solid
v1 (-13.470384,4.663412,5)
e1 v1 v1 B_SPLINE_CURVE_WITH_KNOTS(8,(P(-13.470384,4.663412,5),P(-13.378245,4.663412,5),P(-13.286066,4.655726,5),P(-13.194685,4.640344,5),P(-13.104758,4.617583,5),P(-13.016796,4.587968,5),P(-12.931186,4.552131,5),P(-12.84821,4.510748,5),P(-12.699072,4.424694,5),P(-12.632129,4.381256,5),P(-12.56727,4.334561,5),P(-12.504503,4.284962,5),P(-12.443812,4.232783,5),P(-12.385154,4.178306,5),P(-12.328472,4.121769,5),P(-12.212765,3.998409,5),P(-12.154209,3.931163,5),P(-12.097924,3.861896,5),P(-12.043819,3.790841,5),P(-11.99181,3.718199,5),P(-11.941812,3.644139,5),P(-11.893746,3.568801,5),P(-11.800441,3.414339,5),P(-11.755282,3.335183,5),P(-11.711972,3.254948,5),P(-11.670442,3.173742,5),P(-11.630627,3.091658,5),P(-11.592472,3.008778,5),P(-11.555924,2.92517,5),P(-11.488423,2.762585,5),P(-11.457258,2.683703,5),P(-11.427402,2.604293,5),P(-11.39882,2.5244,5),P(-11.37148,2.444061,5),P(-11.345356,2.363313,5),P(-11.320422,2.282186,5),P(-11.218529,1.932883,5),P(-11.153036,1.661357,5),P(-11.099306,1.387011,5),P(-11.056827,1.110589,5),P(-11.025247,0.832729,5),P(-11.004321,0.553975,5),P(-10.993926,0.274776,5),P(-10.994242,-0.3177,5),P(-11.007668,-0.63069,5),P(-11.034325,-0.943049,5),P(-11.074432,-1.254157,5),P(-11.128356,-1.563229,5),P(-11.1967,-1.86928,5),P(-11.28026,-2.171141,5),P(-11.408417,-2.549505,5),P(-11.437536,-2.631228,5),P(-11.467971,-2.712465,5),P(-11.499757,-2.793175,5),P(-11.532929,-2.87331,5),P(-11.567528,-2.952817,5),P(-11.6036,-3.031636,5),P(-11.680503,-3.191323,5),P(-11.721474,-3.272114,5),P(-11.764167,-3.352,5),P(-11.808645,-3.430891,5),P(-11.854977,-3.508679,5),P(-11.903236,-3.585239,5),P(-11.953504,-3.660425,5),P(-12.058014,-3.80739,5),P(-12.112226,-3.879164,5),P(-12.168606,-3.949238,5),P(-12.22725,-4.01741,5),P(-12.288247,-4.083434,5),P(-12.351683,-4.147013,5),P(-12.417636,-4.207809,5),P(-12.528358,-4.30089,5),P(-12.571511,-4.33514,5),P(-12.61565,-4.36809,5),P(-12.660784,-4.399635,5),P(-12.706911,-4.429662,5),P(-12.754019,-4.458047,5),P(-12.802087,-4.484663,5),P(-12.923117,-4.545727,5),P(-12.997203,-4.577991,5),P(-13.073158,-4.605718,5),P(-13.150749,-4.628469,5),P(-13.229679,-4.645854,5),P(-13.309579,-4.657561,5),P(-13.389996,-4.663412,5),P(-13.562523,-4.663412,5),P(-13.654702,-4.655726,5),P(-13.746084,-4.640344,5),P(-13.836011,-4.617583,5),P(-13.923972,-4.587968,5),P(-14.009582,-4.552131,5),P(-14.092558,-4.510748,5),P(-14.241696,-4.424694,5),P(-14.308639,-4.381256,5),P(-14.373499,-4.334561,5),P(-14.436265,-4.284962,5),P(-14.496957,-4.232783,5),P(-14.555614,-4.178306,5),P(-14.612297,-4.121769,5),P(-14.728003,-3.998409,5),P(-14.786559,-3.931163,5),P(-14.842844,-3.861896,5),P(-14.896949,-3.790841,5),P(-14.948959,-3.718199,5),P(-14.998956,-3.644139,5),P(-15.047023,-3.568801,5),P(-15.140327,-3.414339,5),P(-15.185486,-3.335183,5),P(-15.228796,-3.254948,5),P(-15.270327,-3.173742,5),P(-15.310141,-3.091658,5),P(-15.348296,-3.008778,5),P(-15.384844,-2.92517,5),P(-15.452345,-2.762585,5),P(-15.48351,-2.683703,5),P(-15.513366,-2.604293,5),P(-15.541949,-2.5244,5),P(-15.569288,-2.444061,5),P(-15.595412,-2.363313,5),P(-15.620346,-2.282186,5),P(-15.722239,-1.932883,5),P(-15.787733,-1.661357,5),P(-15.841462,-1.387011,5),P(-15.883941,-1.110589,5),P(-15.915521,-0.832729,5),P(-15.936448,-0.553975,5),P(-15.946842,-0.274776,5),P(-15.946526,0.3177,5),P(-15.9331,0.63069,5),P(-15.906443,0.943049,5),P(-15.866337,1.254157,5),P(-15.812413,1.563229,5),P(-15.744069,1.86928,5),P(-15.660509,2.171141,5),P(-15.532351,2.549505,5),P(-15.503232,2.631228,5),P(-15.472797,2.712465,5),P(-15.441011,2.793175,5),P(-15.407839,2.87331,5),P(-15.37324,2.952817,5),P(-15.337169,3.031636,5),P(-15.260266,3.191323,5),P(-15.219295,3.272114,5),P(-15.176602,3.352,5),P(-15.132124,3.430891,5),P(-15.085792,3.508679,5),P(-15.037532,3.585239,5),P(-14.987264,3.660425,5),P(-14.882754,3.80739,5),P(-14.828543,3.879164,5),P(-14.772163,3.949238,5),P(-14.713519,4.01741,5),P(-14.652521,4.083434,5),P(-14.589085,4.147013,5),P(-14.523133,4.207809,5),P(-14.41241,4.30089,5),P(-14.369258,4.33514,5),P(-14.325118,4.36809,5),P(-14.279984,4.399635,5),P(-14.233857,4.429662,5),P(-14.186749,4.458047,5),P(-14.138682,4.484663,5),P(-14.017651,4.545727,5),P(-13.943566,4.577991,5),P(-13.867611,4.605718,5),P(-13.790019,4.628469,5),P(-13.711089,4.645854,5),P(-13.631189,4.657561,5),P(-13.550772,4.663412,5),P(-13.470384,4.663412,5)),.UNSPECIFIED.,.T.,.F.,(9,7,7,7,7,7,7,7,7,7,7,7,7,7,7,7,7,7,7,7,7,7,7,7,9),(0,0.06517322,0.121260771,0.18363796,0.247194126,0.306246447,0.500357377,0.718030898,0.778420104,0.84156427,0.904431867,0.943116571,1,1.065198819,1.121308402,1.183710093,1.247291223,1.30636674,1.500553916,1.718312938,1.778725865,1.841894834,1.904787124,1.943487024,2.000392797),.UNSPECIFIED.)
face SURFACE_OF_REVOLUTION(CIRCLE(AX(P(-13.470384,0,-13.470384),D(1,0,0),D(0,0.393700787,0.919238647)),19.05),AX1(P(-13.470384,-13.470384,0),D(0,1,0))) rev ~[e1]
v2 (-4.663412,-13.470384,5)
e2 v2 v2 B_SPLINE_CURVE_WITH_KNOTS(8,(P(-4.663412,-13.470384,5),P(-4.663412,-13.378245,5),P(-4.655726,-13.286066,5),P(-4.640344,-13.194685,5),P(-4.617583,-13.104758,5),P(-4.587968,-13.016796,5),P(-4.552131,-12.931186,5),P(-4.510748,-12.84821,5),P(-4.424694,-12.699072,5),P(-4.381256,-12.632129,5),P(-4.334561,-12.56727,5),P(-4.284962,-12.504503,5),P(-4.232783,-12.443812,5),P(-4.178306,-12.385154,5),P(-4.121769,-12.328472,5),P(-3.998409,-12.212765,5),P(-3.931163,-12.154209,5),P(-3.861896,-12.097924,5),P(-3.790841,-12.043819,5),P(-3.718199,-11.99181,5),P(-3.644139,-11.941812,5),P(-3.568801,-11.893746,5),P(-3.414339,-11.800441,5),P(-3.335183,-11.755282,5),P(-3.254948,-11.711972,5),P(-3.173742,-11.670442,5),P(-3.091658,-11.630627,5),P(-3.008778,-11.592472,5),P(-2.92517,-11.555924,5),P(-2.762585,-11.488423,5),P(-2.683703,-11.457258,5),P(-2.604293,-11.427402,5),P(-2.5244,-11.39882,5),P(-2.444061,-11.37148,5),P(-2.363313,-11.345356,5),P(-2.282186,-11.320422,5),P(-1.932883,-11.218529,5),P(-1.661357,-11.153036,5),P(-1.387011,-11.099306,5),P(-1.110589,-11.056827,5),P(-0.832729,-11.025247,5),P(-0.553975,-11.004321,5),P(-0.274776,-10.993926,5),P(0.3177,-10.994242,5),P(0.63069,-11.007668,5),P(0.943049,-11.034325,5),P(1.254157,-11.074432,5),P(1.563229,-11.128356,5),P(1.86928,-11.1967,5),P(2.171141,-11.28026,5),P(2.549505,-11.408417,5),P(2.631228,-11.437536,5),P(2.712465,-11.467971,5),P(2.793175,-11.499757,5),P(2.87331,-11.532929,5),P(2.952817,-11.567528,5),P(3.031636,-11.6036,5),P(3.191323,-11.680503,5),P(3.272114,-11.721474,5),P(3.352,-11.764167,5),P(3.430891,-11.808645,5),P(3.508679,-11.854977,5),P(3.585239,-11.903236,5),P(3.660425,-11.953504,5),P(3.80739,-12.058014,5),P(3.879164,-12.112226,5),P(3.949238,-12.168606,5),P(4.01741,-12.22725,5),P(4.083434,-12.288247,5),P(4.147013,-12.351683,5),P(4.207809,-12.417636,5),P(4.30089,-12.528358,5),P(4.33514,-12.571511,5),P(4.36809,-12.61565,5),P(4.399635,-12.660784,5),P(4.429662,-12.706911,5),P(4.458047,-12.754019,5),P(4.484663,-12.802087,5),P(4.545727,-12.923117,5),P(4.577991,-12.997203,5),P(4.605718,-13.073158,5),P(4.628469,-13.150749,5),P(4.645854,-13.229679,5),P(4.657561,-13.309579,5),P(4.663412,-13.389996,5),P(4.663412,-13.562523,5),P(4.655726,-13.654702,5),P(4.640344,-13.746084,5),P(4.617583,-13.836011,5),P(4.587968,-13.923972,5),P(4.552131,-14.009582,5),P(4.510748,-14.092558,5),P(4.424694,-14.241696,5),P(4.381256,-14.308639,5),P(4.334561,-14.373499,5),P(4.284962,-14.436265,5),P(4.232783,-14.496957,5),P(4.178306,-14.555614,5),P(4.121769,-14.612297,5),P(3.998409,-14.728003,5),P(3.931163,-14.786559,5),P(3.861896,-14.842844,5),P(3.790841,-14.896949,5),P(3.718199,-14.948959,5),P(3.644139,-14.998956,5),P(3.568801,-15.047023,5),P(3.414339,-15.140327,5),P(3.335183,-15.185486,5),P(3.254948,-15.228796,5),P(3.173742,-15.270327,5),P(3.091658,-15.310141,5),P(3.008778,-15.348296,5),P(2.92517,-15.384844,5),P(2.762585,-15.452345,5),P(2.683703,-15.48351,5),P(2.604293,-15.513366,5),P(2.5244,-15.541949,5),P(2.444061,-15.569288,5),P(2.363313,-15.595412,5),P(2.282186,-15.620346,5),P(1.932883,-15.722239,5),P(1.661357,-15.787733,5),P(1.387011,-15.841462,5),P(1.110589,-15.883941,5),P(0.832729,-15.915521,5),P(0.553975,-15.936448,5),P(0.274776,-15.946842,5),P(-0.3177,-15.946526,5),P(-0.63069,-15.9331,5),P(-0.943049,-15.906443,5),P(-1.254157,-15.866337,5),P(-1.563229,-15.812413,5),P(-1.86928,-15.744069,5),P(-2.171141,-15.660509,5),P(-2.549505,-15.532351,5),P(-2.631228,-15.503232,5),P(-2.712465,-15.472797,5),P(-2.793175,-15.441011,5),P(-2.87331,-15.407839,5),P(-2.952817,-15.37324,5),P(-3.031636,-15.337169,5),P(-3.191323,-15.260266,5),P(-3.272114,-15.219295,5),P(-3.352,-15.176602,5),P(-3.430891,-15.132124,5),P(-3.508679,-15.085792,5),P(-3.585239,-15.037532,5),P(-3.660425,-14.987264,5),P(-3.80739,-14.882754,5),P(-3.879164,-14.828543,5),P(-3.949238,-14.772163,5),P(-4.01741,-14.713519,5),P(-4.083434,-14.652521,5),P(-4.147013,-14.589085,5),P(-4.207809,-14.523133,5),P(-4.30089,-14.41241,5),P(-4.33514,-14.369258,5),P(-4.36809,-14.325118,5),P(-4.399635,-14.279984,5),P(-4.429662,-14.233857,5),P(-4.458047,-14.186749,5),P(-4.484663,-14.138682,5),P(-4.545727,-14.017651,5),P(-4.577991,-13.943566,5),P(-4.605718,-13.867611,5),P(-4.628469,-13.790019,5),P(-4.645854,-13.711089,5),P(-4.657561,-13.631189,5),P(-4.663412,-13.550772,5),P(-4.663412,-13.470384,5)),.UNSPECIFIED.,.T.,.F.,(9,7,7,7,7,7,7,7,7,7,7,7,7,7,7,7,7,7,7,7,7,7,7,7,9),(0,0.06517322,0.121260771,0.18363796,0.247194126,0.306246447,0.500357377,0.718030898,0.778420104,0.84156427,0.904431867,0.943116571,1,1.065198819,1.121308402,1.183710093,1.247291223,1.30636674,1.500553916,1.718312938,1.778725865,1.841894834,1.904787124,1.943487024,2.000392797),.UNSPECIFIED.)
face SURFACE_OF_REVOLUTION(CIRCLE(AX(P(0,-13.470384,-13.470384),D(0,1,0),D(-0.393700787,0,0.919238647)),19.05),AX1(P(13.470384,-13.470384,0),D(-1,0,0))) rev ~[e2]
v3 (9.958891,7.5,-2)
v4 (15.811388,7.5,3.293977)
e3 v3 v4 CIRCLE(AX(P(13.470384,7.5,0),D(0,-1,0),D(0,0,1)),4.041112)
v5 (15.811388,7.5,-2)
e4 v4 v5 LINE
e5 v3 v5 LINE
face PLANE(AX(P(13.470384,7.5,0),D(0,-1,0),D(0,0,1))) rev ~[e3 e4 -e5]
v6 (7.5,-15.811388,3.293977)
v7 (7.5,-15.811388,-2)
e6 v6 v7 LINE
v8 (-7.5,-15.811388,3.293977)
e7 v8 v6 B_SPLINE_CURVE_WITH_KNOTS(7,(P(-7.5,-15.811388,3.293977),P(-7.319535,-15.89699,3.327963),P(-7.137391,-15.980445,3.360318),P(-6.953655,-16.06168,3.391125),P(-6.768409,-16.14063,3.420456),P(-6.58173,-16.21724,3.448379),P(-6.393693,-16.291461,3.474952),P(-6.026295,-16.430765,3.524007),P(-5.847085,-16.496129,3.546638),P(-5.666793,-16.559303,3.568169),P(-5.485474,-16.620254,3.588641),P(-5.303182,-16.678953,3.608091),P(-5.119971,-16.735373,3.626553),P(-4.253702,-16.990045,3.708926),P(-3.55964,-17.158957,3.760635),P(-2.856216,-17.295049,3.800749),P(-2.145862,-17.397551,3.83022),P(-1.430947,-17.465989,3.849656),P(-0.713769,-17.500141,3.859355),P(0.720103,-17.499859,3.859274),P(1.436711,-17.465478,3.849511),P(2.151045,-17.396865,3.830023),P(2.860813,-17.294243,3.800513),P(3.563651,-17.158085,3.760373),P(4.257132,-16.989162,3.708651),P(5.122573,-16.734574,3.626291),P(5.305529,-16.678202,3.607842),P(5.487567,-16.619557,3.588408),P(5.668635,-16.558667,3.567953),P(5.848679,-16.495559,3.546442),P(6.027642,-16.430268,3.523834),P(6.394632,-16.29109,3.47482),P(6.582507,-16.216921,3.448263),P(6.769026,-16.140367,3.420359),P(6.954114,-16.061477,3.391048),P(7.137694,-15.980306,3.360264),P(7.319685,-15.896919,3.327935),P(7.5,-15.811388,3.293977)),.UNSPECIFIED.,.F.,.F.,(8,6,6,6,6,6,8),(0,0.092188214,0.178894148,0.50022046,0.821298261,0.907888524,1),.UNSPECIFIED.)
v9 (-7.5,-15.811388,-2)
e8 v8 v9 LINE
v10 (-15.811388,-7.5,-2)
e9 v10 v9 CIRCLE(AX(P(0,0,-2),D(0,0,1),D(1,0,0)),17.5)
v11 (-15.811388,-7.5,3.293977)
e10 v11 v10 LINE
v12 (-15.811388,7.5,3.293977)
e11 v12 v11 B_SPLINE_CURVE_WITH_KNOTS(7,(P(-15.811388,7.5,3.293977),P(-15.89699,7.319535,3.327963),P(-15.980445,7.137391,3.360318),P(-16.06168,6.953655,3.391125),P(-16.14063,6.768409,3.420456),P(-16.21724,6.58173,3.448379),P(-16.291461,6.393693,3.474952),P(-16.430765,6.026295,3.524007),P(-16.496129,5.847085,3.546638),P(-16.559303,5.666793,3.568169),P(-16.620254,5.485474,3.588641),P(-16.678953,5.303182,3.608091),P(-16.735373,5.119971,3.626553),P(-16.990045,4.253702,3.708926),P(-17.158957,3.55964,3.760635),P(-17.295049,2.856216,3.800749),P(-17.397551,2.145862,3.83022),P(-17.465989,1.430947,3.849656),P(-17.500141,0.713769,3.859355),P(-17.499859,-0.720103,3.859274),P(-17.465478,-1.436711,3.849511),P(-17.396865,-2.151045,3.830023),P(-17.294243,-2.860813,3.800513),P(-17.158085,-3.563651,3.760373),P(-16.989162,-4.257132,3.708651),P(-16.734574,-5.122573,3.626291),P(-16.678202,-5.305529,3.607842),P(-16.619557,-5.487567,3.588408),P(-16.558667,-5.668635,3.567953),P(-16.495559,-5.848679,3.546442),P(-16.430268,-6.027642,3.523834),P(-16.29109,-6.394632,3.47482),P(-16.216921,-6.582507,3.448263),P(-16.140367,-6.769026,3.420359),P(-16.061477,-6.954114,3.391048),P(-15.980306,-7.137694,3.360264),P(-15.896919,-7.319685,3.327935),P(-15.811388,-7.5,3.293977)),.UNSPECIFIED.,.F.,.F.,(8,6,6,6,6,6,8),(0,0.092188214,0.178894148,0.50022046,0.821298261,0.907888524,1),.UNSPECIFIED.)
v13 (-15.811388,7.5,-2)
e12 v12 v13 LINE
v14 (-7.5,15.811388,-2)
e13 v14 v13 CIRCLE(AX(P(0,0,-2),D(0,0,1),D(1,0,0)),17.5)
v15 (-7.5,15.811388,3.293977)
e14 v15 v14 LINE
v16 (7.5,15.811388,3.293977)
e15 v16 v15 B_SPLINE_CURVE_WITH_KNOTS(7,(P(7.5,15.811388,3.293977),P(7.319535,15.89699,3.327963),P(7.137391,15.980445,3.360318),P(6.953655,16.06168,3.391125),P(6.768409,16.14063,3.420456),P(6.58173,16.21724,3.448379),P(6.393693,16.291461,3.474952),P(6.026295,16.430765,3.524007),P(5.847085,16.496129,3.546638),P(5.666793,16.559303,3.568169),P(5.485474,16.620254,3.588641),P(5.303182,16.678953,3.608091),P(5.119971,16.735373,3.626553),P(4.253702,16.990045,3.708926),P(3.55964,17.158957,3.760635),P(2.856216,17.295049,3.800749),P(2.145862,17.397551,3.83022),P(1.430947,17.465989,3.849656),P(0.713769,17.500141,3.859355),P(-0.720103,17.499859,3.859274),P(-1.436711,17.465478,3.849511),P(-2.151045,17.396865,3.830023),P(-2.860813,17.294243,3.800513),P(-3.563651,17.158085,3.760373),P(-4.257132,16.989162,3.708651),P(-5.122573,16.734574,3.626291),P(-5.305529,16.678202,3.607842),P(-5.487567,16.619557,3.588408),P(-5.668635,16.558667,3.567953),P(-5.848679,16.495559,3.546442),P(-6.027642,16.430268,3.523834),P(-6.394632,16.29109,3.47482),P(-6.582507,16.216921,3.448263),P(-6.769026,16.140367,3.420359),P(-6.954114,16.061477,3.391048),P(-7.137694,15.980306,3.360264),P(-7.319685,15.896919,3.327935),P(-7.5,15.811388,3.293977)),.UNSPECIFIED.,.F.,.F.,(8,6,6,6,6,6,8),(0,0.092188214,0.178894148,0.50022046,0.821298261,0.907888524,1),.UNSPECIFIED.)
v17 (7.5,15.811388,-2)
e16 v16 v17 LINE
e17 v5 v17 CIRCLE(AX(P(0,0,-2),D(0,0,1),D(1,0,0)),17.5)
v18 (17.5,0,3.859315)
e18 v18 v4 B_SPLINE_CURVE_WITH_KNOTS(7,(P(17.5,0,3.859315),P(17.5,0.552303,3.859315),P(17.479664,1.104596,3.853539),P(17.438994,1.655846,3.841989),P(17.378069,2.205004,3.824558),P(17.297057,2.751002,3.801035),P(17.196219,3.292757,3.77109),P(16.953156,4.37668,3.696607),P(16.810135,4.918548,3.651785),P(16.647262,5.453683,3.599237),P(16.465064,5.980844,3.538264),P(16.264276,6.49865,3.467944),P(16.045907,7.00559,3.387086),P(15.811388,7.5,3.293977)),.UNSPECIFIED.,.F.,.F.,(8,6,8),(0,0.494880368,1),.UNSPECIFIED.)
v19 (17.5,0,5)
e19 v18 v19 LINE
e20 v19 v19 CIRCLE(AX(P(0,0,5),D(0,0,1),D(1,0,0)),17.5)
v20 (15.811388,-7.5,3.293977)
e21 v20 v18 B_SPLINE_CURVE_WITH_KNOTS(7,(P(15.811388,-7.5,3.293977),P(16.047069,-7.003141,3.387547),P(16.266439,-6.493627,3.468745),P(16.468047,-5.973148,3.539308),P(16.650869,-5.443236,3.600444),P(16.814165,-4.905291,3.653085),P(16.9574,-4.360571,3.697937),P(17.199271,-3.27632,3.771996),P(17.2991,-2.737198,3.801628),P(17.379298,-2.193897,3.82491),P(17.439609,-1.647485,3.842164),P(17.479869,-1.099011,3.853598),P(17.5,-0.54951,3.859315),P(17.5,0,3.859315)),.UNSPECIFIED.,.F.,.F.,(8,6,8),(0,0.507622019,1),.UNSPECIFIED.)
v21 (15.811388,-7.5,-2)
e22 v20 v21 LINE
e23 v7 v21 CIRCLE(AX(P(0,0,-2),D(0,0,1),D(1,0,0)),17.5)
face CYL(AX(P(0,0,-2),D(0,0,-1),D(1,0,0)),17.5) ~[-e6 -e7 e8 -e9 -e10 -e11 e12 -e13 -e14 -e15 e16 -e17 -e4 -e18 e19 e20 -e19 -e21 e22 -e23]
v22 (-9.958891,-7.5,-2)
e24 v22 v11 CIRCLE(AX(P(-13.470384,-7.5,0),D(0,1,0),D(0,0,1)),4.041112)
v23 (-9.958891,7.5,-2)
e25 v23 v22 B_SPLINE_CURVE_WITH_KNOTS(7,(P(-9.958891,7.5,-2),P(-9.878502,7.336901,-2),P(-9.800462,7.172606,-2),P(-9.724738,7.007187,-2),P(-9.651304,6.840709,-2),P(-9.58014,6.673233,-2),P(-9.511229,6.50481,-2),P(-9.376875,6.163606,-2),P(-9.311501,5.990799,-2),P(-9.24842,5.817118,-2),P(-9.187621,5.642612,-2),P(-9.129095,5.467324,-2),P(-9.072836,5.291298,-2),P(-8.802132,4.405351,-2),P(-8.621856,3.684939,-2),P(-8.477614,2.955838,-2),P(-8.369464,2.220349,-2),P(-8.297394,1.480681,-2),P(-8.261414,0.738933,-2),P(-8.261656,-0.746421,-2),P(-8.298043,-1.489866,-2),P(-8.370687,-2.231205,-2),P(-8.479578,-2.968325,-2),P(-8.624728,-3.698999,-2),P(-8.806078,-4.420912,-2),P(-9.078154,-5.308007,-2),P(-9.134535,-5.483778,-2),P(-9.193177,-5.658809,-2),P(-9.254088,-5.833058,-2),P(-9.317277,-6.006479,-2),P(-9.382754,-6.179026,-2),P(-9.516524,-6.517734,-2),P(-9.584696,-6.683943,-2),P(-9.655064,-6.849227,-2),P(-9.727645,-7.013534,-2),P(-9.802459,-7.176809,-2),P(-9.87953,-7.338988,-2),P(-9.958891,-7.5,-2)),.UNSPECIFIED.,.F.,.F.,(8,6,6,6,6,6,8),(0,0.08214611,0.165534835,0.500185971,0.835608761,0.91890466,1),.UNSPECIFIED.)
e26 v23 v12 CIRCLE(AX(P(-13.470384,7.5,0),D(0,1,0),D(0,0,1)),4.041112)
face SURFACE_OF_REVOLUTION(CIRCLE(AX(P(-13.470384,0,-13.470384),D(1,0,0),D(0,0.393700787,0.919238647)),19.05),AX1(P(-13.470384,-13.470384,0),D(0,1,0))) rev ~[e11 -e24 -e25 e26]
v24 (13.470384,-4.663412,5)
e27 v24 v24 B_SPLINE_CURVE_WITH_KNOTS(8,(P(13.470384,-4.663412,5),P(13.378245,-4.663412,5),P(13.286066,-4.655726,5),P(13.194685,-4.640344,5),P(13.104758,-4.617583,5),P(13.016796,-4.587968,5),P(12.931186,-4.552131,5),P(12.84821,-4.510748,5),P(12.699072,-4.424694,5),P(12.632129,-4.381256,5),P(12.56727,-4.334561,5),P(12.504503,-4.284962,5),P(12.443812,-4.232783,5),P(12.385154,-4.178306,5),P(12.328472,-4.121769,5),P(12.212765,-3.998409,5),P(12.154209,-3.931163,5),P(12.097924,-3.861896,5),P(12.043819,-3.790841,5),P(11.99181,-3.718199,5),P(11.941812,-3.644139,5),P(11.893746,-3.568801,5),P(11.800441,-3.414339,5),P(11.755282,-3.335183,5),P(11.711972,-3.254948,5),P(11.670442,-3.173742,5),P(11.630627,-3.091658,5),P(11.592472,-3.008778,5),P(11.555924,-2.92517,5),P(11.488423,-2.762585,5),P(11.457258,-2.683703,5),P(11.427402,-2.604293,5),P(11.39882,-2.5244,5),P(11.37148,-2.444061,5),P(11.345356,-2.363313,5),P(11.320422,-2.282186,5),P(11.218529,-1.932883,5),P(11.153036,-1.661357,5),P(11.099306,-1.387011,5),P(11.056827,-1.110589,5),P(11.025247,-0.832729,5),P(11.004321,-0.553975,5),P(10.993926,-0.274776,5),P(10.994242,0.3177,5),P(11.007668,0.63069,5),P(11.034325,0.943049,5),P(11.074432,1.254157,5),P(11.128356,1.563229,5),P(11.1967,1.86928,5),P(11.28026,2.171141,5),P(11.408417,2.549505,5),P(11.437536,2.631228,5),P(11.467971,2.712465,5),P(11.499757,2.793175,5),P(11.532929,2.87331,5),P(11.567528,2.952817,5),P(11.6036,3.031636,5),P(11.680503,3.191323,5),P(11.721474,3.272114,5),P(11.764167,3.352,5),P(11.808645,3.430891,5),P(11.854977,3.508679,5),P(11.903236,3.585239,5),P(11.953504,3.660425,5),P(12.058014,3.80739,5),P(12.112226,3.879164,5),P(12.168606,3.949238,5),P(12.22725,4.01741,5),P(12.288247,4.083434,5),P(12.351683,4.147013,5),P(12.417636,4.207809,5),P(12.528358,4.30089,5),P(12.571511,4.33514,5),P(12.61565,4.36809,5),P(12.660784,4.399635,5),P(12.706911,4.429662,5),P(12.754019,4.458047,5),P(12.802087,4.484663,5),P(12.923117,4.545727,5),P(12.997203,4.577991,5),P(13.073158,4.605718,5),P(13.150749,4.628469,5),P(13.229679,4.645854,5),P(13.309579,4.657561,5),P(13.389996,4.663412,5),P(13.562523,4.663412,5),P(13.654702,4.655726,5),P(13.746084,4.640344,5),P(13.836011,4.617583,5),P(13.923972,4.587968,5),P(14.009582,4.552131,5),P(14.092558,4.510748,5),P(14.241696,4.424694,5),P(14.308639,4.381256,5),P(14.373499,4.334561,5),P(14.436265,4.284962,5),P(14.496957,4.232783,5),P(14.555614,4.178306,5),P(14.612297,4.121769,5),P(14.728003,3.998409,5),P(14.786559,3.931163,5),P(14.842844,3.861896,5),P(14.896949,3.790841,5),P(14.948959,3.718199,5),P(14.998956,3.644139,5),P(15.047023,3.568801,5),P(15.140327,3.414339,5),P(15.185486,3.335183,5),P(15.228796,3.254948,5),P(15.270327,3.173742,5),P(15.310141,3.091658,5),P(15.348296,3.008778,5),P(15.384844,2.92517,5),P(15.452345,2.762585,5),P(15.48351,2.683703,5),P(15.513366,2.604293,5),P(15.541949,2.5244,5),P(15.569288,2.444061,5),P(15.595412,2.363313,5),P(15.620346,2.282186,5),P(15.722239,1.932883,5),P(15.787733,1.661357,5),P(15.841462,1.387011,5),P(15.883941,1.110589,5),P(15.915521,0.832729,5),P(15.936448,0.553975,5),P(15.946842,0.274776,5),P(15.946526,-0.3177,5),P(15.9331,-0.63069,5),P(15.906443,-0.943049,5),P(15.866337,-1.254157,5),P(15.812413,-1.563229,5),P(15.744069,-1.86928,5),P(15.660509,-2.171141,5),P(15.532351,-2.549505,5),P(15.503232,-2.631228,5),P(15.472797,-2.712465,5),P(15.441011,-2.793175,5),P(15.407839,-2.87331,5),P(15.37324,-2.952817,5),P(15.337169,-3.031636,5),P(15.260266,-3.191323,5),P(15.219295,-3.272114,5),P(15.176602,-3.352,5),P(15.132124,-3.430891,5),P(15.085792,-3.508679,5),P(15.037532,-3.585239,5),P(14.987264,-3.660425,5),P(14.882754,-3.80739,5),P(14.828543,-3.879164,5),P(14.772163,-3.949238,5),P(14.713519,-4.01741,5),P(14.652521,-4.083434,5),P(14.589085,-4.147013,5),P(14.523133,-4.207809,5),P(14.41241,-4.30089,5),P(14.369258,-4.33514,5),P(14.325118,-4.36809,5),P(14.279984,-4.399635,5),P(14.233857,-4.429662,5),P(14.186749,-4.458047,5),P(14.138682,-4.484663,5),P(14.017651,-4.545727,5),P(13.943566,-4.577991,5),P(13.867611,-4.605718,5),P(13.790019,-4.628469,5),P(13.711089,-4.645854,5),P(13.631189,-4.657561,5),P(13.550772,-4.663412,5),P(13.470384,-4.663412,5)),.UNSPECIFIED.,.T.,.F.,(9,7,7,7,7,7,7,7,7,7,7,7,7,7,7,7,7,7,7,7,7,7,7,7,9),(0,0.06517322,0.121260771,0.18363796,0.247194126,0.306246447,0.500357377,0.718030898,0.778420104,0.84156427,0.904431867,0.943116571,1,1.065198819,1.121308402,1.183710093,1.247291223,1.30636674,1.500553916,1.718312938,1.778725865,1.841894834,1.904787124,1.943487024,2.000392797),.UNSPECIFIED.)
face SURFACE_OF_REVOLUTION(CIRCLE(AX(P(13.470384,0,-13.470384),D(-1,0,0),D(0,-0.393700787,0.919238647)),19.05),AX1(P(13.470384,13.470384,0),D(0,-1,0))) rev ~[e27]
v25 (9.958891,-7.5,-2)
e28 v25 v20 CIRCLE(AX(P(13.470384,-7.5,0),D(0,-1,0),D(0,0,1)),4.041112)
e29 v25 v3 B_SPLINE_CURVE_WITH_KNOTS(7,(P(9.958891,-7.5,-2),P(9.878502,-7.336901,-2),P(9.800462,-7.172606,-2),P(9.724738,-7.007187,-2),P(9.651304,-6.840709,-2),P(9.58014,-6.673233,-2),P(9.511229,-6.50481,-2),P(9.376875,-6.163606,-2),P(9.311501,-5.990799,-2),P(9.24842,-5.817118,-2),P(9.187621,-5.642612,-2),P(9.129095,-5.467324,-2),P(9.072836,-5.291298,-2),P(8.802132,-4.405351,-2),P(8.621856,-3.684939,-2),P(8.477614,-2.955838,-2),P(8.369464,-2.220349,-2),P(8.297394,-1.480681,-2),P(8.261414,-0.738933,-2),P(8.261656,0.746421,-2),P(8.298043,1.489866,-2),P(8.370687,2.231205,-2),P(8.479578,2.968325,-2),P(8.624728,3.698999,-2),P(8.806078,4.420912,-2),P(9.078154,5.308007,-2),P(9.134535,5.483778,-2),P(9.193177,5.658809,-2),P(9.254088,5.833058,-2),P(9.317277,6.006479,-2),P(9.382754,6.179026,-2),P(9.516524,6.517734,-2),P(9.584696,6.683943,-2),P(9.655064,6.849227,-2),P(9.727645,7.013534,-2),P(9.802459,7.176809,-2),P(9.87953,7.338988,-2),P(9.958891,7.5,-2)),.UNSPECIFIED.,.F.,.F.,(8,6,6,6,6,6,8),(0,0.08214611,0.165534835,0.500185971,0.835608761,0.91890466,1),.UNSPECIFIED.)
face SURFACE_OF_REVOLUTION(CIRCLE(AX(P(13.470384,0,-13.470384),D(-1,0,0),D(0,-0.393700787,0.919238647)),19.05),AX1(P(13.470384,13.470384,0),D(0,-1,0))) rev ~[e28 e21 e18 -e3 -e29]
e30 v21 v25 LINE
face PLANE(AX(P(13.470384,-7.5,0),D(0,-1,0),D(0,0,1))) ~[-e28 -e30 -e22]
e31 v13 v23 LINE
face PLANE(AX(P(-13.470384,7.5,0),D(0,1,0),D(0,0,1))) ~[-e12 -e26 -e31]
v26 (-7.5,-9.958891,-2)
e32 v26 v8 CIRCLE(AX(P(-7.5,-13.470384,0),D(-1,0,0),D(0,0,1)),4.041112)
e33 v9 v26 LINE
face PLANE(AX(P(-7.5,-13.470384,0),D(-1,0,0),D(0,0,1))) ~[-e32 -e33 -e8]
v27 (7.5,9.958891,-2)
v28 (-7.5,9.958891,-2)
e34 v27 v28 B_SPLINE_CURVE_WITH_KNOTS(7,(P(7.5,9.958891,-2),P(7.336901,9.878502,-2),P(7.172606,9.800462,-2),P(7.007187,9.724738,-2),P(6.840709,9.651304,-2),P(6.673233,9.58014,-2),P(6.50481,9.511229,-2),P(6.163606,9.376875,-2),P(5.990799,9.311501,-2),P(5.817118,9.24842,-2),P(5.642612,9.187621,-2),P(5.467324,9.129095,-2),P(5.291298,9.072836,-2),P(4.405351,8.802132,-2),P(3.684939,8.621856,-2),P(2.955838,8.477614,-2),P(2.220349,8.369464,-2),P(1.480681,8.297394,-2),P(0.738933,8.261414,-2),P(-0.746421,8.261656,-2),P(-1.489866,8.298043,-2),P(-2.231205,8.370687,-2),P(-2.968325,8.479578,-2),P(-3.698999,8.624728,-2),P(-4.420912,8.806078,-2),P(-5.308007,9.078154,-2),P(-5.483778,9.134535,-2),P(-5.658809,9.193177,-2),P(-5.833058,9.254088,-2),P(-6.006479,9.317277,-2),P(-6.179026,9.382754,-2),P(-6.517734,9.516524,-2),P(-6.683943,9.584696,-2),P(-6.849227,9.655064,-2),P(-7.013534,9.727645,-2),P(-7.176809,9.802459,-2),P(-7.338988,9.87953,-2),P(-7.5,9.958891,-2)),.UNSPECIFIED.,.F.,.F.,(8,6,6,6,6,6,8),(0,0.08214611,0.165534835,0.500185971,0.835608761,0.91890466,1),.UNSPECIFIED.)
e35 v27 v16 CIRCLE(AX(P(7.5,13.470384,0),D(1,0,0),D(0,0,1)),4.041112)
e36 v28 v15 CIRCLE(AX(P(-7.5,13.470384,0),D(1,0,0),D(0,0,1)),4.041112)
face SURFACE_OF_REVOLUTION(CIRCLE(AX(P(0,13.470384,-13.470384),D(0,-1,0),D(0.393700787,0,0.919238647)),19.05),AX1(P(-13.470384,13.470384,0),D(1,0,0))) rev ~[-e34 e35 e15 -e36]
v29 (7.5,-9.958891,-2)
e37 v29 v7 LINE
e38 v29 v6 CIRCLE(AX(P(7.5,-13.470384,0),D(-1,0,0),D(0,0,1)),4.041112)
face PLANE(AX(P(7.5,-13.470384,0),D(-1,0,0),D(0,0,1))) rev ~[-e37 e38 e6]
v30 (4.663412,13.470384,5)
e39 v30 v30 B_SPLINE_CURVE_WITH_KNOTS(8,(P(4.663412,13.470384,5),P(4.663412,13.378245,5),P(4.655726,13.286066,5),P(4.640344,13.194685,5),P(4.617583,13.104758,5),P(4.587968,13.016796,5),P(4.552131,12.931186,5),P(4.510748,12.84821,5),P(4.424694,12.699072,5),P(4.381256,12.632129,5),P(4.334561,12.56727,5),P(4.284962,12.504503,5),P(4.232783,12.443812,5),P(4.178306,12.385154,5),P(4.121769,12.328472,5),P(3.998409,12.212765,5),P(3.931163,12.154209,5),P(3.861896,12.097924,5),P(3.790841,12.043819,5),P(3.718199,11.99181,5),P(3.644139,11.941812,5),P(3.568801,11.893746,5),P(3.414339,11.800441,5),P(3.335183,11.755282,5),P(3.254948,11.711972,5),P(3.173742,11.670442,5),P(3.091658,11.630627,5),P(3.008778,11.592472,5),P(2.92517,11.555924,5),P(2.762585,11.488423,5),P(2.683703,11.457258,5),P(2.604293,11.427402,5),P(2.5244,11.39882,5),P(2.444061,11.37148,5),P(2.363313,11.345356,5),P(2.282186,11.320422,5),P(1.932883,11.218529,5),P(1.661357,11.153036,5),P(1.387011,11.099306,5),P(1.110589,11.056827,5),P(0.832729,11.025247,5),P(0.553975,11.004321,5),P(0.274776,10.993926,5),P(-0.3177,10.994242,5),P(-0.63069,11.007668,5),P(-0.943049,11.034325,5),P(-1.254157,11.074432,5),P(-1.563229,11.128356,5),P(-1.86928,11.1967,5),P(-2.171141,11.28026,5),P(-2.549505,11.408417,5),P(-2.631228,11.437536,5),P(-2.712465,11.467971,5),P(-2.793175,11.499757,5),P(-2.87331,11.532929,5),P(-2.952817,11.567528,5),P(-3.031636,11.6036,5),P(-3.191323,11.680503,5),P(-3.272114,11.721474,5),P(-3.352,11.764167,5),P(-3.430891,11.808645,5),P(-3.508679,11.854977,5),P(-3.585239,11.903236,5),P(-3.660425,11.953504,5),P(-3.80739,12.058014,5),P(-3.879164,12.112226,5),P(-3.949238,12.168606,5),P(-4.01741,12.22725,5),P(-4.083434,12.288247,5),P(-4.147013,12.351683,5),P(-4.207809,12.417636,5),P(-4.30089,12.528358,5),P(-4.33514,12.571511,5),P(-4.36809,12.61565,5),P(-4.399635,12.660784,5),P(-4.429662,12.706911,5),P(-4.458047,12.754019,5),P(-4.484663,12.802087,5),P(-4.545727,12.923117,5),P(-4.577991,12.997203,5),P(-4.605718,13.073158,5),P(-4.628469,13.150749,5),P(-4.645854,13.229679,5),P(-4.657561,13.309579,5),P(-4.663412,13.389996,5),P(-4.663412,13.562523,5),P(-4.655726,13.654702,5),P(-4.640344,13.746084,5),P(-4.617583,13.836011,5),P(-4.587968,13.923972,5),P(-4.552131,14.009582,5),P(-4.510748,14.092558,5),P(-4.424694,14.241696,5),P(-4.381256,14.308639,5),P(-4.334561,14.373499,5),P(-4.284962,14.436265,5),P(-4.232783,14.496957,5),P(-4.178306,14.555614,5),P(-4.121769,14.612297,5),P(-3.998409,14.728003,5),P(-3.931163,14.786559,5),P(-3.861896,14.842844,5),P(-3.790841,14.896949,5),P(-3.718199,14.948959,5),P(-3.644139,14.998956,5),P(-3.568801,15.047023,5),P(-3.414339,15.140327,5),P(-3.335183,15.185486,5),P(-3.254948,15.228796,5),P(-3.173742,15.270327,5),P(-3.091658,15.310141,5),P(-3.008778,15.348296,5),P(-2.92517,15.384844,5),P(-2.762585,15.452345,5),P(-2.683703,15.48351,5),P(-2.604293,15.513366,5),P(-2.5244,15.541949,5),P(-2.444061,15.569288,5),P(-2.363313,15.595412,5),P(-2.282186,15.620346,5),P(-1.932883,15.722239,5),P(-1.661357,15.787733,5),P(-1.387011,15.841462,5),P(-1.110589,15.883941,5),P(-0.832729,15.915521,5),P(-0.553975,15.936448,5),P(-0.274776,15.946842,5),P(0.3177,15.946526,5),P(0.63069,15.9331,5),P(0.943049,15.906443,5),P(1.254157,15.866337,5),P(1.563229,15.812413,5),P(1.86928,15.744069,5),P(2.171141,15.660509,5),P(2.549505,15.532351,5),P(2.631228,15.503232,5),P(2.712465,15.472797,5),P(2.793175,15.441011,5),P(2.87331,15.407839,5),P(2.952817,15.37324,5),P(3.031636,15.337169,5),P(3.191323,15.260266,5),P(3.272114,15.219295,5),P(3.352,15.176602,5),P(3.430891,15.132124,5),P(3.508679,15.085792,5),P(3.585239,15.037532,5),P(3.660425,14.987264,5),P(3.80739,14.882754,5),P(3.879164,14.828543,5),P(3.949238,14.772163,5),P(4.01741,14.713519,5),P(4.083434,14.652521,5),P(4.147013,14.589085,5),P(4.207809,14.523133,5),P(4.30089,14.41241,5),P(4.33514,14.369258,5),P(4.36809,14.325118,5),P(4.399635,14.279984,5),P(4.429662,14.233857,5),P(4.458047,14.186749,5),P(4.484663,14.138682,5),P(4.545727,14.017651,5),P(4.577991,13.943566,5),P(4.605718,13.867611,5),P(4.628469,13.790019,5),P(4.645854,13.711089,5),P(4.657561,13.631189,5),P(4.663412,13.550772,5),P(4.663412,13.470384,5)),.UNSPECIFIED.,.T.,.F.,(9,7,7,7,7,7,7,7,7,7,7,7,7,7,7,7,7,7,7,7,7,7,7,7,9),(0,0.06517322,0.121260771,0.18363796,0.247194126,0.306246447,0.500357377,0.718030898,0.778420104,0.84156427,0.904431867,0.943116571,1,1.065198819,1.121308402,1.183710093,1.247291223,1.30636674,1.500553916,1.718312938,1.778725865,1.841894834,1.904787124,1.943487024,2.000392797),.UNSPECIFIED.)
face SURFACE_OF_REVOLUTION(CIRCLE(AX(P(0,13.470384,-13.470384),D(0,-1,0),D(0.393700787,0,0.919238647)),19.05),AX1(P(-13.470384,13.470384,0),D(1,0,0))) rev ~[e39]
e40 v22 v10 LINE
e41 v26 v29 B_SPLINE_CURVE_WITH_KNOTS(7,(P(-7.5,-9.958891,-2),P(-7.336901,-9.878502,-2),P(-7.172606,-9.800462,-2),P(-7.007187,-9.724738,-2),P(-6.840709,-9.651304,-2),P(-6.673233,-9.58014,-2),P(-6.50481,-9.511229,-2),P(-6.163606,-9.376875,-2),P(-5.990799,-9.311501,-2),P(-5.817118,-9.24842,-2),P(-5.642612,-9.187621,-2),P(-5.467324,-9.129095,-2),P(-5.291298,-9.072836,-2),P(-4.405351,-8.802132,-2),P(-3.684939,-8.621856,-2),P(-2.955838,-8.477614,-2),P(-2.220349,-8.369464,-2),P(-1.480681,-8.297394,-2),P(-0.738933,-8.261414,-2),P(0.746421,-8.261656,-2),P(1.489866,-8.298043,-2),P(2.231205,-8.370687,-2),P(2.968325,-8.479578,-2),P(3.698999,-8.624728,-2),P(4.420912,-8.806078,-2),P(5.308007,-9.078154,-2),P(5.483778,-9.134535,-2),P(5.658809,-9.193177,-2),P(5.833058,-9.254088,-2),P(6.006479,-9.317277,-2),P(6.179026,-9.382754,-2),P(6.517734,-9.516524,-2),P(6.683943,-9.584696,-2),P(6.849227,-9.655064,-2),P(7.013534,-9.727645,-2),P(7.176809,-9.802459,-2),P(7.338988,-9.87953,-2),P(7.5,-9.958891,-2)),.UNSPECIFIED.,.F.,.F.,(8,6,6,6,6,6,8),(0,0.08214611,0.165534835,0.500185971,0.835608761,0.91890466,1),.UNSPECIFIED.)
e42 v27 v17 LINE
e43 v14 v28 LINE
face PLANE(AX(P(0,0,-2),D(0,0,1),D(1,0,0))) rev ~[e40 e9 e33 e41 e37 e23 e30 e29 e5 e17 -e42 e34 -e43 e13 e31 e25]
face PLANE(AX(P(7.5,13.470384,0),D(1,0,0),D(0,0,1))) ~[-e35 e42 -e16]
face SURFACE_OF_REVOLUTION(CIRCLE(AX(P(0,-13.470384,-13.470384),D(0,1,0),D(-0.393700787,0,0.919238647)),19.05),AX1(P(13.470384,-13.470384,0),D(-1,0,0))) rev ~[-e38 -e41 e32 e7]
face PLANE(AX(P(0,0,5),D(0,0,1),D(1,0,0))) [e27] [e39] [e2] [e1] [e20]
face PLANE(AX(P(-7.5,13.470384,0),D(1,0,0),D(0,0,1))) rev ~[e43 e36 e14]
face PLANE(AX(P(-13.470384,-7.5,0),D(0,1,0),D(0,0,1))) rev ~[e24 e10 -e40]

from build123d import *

# Parameters (mm, degrees)
EXTRUDE_1_DEPTH          = 5
EXTRUDE_1_DEPTH_BACK     = 2
SKETCH_2_R               = 17.5
PATTERN_CIRCULAR_1_COUNT = 4


with BuildPart() as part:
    # ｽｹｯﾁ1 → 回転1 (revolve)
    with BuildSketch(Plane.XY, mode=Mode.PRIVATE) as revolve_1_sk:
        with BuildLine():
            Line((-7.5, 17.511496224), (-7.5, 13.470384182))
            Line((-7.5, 13.470384182), (7.5, 13.470384182))
            Line((7.5, 13.470384182), (7.5, 17.511496224))
            ThreePointArc((7.5, 17.511496224), (0, 19.05), (-7.5, 17.511496224))
        make_face()
    revolve_1 = revolve(revolve_1_sk.sketch.rotate(Axis((-13.470384182, 13.470384182, 0), (1, 0, 0)), 90), axis=Axis((-13.470384182, 13.470384182, 0), (1, 0, 0)))

    # ｽｹｯﾁ2 → ﾎﾞｽ - 押し出し1 (add, two sides: drawn at the far end of the back side and taken through both)
    with BuildSketch(Plane.XY.offset(-EXTRUDE_1_DEPTH_BACK)):
        Circle(SKETCH_2_R)
    extrude(amount=EXTRUDE_1_DEPTH + EXTRUDE_1_DEPTH_BACK)

    # 円形ﾊﾟﾀｰﾝ1: 回転1 ×4 about axis
    pattern_circular_1_axis = Axis((0, 0, 0), (0, 0, 1))
    for i in range(1, PATTERN_CIRCULAR_1_COUNT):
        add(revolve_1.rotate(pattern_circular_1_axis, i * 360 / PATTERN_CIRCULAR_1_COUNT))


solid = part.part
